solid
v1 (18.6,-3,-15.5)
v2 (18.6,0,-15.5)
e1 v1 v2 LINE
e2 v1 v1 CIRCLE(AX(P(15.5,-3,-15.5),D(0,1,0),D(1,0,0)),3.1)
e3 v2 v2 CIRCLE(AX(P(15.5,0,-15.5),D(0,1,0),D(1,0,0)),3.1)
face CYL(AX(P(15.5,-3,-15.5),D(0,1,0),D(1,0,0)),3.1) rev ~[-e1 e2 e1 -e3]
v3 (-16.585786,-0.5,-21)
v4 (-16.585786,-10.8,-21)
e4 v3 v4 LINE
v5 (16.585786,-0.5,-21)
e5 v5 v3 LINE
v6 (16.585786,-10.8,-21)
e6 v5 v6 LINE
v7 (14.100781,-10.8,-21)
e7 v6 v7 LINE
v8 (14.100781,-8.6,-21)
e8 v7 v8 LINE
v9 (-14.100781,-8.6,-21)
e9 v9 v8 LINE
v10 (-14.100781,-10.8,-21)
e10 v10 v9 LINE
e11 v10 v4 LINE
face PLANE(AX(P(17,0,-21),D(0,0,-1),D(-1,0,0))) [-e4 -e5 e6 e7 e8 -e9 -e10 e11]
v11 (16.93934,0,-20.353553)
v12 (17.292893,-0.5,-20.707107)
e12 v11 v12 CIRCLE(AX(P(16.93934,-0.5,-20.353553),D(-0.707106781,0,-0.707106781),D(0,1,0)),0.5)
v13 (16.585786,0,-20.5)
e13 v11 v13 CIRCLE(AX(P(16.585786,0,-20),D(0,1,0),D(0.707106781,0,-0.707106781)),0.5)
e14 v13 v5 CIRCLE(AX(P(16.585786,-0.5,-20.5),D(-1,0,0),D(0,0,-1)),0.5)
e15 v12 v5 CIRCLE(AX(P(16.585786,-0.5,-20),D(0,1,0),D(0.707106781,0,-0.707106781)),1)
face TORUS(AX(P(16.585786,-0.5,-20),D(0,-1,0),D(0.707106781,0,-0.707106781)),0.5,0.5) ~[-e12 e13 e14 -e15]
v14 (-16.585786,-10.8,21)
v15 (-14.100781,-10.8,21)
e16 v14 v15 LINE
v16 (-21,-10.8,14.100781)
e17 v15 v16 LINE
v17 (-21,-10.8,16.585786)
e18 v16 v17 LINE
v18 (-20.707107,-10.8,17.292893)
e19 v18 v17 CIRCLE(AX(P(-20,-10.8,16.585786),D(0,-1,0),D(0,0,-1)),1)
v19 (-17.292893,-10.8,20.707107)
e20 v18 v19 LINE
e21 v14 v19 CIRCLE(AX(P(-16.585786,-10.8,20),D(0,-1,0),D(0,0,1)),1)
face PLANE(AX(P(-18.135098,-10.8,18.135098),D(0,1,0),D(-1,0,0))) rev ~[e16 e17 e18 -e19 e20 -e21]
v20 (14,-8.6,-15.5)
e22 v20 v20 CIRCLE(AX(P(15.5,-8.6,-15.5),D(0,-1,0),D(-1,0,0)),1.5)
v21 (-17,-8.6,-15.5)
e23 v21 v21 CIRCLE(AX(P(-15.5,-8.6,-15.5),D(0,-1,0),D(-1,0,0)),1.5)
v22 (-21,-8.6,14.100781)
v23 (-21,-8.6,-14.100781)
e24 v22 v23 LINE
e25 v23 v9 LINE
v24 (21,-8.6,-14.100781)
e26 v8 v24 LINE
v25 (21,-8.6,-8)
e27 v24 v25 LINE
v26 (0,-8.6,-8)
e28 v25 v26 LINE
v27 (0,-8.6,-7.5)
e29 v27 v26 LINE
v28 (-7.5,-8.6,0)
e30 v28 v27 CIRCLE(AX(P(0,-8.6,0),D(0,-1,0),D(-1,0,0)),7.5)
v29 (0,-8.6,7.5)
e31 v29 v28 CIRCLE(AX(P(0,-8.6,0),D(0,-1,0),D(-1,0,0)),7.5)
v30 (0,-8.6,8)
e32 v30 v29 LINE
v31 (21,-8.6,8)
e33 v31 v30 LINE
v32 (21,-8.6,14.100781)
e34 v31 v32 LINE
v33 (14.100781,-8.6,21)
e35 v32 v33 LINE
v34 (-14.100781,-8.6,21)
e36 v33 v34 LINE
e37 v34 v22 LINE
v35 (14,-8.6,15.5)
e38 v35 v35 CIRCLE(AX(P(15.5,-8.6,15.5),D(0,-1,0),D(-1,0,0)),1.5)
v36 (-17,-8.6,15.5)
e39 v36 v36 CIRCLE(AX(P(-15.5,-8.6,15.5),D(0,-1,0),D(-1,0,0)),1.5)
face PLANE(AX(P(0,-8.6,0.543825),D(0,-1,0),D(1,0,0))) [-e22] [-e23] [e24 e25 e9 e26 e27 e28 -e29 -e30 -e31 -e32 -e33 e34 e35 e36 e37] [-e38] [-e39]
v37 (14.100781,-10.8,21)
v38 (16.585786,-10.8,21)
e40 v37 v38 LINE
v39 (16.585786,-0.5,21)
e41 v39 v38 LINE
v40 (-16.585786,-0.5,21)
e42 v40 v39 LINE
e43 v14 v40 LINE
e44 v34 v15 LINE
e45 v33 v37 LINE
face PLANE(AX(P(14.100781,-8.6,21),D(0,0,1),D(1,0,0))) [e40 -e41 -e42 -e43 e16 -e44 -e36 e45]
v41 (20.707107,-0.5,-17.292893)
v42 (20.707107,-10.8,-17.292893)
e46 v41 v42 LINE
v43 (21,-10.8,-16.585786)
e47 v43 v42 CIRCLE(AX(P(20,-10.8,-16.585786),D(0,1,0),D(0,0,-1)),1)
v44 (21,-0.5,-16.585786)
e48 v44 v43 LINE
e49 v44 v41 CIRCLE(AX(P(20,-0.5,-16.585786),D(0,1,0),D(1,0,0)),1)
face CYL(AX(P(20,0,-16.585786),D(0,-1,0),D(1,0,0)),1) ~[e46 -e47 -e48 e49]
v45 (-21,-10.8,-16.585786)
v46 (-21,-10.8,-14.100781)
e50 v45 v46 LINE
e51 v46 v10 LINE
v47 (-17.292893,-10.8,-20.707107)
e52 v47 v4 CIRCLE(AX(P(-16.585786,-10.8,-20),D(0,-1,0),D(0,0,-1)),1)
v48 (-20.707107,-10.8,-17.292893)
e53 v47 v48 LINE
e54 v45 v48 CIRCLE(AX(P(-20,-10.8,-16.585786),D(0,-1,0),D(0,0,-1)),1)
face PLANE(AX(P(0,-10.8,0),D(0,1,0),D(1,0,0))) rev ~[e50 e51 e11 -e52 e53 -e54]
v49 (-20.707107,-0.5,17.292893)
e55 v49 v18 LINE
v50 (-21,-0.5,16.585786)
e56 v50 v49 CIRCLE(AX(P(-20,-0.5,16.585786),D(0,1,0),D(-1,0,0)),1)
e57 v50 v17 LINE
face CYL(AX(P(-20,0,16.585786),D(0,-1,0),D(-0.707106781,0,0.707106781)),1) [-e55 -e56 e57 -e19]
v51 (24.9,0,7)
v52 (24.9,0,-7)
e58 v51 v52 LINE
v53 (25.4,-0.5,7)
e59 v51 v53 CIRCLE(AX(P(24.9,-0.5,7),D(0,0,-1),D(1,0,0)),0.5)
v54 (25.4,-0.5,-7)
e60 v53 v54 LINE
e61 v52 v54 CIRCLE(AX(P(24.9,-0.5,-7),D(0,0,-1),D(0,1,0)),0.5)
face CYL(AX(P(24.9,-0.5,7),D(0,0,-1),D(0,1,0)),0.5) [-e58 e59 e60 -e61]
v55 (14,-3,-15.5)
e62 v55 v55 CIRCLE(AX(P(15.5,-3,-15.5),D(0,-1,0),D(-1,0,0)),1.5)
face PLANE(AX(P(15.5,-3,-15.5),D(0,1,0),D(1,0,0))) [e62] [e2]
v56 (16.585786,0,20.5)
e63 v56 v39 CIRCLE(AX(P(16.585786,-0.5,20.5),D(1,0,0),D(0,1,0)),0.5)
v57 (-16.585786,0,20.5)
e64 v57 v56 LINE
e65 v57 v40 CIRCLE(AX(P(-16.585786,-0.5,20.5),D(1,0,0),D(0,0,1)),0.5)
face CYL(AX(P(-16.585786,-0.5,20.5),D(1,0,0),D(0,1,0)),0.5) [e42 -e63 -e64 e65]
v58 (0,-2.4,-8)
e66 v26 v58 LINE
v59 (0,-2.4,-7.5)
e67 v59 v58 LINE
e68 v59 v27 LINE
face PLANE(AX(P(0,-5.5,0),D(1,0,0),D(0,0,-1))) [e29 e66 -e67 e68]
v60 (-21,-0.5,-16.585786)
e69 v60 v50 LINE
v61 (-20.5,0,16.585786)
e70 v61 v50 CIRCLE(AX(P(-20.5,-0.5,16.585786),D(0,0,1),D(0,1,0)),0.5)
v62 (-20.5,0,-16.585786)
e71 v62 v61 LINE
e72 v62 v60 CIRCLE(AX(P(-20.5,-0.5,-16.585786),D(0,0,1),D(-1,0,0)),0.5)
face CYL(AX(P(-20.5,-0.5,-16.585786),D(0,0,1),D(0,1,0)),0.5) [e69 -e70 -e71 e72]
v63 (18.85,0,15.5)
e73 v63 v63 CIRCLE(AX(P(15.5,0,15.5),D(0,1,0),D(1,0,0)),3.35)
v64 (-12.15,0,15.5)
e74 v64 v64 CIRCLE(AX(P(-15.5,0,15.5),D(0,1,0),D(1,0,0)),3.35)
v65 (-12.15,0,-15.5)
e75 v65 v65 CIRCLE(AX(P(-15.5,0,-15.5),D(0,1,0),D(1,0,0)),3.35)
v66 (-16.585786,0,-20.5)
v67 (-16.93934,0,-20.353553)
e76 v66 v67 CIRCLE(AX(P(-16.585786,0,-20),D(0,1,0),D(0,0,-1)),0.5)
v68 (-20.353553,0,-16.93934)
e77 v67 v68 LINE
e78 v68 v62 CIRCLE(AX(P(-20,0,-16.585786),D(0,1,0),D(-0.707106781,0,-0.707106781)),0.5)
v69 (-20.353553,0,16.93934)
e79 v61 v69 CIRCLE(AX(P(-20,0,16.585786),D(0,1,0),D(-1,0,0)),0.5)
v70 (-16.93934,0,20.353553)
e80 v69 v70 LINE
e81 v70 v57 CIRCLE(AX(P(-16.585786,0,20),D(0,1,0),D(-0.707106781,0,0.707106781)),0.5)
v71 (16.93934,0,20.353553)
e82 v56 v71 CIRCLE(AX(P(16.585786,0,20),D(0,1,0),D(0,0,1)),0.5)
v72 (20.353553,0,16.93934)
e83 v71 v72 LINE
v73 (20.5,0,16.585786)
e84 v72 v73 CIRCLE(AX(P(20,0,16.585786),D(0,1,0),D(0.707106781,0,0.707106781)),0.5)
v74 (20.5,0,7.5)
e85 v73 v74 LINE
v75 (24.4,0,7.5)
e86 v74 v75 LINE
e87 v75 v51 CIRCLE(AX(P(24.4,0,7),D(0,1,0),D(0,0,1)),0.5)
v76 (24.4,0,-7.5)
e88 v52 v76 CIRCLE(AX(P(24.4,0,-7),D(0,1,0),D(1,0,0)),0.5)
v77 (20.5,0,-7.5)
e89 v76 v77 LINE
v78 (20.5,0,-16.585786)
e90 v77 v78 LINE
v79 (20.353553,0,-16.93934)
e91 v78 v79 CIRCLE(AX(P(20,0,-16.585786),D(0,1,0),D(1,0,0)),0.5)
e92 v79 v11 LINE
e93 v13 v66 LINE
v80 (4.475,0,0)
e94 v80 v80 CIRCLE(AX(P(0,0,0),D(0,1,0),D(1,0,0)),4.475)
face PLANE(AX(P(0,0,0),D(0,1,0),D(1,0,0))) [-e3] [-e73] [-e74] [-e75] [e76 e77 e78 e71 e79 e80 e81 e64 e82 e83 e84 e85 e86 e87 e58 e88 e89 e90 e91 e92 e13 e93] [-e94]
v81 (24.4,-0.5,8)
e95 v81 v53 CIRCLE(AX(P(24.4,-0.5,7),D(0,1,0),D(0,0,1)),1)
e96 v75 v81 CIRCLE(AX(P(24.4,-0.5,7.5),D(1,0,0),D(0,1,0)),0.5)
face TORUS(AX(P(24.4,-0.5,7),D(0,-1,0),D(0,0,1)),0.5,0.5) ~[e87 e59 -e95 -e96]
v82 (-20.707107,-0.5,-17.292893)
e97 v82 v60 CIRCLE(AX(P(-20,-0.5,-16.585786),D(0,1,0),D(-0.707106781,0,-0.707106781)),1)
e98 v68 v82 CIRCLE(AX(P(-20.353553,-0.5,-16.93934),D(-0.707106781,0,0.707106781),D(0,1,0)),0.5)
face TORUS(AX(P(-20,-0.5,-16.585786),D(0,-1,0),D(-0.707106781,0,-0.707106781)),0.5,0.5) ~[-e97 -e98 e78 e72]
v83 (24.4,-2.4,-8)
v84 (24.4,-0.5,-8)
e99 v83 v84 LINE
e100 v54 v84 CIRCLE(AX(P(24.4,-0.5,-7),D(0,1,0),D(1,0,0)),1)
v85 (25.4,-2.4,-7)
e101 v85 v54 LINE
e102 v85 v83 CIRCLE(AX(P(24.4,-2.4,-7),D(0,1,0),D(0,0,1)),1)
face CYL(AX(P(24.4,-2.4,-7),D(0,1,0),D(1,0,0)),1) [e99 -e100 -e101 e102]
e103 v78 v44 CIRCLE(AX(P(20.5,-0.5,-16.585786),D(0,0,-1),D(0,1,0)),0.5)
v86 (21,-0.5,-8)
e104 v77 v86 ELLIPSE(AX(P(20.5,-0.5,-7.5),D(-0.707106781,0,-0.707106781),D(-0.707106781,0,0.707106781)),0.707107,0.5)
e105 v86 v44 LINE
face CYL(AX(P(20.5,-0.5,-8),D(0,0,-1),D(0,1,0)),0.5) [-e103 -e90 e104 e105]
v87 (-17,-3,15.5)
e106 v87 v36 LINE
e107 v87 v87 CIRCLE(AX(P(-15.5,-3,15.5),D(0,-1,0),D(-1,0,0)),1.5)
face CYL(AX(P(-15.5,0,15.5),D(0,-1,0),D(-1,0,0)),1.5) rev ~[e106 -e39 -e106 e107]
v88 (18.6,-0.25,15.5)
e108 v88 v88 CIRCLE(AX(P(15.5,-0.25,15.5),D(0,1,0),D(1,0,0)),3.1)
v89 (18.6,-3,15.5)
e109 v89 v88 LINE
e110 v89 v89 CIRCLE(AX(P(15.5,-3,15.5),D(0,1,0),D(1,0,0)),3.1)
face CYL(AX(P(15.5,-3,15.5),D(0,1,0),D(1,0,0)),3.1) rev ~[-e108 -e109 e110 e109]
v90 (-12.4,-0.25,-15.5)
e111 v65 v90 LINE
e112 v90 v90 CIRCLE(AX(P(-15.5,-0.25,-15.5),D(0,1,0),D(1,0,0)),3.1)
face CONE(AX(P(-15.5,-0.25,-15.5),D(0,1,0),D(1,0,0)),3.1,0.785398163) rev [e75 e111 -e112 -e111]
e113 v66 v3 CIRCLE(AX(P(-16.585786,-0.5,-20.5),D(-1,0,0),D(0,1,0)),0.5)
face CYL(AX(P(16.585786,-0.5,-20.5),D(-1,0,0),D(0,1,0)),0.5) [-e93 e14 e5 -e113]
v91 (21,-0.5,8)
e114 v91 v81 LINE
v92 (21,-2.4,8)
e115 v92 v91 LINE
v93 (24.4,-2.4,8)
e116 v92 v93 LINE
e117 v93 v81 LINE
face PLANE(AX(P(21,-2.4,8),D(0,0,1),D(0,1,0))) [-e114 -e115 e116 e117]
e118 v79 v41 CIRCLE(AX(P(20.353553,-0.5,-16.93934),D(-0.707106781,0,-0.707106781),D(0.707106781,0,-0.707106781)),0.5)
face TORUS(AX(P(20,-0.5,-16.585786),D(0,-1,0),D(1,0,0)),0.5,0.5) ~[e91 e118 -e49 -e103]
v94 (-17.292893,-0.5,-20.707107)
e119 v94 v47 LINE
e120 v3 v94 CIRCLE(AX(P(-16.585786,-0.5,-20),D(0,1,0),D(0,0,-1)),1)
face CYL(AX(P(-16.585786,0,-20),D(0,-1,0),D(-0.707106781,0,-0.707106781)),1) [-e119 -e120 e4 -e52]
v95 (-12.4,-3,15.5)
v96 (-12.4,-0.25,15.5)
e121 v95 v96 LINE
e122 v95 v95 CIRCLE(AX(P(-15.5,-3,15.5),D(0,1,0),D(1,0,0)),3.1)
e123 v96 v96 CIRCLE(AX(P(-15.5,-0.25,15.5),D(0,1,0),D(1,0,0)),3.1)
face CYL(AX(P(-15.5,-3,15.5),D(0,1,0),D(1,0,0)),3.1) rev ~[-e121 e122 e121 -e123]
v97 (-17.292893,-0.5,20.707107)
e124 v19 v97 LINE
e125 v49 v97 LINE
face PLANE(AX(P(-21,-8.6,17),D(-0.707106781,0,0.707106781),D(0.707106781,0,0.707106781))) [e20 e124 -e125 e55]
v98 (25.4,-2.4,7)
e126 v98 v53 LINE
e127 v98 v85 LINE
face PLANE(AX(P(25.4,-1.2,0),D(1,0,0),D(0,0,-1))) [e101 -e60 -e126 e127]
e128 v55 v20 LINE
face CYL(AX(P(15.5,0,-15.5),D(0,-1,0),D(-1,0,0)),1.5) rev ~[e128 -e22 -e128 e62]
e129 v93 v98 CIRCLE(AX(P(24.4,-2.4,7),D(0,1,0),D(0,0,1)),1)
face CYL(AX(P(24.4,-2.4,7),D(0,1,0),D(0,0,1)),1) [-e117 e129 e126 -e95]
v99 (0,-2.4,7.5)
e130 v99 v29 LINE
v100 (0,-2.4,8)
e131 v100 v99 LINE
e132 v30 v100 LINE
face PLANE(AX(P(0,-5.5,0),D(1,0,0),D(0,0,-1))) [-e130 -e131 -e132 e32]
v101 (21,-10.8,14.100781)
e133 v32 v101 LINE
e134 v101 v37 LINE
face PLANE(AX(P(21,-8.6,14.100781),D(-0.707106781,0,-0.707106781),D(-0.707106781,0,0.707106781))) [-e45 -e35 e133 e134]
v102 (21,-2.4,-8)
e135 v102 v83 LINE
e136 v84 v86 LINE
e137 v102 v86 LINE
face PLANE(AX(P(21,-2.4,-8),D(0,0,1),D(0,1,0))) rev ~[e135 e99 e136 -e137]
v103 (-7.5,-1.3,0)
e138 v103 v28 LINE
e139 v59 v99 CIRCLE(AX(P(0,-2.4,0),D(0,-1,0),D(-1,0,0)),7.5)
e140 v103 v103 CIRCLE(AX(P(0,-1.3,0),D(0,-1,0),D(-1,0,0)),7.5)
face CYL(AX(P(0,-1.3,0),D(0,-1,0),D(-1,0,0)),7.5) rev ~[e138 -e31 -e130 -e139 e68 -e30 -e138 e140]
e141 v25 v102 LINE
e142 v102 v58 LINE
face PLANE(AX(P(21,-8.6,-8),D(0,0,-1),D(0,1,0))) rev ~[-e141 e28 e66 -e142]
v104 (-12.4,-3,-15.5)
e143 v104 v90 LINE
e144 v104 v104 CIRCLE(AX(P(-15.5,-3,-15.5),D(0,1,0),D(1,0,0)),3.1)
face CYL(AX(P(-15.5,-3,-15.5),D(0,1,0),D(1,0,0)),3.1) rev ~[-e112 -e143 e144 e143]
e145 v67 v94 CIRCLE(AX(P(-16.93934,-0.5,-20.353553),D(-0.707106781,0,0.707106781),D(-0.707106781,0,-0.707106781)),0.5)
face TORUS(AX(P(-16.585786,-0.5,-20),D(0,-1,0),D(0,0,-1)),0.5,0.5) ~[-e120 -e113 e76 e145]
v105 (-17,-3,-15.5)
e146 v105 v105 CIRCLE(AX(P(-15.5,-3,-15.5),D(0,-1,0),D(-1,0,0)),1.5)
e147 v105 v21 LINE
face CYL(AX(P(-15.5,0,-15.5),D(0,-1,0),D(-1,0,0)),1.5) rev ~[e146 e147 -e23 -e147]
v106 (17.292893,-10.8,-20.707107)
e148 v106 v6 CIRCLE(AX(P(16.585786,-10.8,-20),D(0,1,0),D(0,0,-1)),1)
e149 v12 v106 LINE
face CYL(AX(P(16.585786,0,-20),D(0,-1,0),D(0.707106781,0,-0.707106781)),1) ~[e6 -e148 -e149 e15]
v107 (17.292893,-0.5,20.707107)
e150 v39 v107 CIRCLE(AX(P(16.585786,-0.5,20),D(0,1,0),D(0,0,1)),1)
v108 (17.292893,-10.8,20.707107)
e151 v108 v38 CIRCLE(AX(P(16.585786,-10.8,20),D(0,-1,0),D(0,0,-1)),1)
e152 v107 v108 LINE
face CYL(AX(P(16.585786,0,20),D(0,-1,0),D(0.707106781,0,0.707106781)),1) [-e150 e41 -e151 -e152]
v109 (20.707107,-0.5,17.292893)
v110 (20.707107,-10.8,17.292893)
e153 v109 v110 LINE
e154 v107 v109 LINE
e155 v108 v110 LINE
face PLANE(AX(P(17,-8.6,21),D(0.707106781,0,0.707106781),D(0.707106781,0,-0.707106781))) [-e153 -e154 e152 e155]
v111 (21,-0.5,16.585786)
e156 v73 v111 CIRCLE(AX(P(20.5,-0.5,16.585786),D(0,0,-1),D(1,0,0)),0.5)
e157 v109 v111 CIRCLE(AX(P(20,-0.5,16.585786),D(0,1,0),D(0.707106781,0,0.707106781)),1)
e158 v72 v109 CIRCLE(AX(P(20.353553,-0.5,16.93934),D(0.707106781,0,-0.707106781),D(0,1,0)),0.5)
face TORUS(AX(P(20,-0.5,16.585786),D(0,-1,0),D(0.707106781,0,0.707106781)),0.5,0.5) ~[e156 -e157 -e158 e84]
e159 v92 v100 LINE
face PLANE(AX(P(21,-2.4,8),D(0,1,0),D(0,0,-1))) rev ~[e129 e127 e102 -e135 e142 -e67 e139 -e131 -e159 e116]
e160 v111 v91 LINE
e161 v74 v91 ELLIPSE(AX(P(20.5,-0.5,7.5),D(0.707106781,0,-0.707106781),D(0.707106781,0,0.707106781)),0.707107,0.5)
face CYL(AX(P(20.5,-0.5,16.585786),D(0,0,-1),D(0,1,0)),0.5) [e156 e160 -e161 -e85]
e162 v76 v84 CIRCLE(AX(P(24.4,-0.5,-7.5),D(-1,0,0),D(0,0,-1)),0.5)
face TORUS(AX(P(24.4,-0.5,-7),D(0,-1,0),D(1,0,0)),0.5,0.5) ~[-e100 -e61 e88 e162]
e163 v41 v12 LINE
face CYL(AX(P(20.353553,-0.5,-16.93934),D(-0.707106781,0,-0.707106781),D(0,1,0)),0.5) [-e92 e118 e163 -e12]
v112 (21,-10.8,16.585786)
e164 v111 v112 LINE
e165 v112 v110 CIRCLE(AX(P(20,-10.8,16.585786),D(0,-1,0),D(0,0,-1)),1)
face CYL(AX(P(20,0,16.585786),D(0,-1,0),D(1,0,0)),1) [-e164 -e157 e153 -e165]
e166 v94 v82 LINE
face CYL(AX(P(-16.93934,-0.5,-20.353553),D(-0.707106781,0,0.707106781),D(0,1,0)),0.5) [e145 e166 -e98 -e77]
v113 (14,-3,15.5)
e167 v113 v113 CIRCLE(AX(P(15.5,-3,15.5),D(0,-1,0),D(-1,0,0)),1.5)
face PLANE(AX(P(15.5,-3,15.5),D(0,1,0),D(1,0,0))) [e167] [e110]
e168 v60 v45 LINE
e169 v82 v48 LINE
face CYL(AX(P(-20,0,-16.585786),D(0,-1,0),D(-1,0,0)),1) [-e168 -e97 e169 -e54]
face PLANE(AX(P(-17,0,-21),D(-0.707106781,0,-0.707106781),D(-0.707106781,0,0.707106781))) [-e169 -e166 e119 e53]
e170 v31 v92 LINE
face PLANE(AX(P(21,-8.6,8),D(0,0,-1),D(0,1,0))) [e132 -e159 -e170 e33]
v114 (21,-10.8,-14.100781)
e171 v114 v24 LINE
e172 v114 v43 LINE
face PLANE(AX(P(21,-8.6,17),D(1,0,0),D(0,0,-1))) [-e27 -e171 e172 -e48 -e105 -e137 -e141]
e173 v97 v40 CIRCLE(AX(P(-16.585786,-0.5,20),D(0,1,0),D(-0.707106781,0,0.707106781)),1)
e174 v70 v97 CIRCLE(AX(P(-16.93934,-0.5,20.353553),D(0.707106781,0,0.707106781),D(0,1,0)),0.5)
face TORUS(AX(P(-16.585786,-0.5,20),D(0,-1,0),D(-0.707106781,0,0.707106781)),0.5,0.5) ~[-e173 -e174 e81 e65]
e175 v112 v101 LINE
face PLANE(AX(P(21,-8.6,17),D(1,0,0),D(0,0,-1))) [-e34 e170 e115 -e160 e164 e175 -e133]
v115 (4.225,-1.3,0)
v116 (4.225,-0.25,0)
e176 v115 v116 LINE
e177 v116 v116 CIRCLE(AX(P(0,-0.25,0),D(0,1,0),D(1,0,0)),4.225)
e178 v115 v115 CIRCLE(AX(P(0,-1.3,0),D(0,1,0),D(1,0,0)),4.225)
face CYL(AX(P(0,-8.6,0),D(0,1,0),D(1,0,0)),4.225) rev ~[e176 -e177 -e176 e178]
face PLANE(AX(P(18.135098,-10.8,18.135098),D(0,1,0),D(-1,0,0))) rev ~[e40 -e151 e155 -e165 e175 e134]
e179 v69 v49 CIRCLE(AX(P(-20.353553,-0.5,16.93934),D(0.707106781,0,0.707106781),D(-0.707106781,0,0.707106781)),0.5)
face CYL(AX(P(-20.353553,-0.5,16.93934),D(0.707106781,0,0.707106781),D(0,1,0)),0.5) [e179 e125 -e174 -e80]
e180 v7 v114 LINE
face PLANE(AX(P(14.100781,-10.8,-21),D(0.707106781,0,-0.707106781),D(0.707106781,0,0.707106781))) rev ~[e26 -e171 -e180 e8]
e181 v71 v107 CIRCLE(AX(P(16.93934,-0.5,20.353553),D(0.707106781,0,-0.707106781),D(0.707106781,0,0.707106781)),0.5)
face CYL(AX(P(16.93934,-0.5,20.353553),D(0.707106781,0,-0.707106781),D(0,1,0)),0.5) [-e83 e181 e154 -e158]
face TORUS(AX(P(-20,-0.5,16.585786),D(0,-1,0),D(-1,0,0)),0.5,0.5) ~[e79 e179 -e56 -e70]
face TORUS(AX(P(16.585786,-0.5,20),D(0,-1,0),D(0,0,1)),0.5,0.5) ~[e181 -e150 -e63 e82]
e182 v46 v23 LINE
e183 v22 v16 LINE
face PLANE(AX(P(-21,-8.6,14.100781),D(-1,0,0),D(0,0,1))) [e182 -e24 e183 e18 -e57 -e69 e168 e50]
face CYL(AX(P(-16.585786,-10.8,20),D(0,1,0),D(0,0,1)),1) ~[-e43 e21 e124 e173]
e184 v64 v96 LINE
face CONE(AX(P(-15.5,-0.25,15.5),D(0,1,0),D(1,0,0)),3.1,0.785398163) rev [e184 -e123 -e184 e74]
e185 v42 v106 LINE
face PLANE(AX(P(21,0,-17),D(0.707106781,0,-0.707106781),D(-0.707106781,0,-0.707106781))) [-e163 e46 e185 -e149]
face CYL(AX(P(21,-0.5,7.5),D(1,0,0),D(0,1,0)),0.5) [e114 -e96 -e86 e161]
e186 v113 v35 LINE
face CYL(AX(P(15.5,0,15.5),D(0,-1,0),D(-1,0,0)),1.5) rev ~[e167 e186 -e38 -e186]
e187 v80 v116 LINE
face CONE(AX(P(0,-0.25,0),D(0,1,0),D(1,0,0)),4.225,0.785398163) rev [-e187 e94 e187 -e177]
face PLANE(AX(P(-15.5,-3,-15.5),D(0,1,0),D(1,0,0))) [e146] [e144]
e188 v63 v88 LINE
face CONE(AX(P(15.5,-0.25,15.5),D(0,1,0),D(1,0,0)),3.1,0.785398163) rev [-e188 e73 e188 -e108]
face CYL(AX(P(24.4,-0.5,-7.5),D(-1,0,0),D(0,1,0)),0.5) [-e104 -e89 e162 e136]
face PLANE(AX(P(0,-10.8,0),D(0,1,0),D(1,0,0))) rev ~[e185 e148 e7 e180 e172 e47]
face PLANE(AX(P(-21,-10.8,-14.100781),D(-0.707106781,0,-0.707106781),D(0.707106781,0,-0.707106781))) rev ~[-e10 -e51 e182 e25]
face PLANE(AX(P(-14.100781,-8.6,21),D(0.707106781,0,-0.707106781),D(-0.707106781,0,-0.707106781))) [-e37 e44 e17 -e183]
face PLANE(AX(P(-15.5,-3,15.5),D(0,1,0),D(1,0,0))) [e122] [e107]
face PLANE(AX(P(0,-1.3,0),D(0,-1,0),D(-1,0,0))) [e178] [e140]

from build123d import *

# Parameters (mm, degrees)
SALIENTE_EXTRUIR1_DEPTH                              = 10.8
CORTAR_EXTRUIR1_DEPTH                                = 2.2
SALIENTE_EXTRUIR2_DEPTH                              = 2.2
SALIENTE_EXTRUIR3_DEPTH                              = 2.2
CROQUIS5_W                                           = 16
CROQUIS5_H                                           = 2.4
SALIENTE_EXTRUIR4_DEPTH                              = 4.4
CROQUIS6_W                                           = 16
CROQUIS6_H                                           = 6.2
CORTAR_EXTRUIR2_DEPTH                                = 21
REFRENTADO_PARA_PERNO_CON_CABEZA_HEXAGON_D           = 8.45
REFRENTADO_PARA_PERNO_CON_CABEZA_HEXAGON_CBORE_D     = 15
REFRENTADO_PARA_PERNO_CON_CABEZA_HEXAGON_CBORE_DEPTH = 7.3
REFRENTADO_PARA_TORNILLO_CON_CABEZA_HEXA_D           = 3
REFRENTADO_PARA_TORNILLO_CON_CABEZA_HEXA_DEPTH       = 10.8
REFRENTADO_PARA_TORNILLO_CON_CABEZA_HEXA_CBORE_D     = 6.2
REFRENTADO_PARA_TORNILLO_CON_CABEZA_HEXA_CBORE_DEPTH = 3
REDONDEO1_R                                          = 1
CHAFL_N1_SIZE                                        = 0.25
REDONDEO2_R                                          = 0.5


with BuildPart() as part:
    # Croquis1 → Saliente-Extruir1 (new body)
    with BuildSketch(Plane(origin=(0, 0, 0), x_dir=(1, 0, 0), z_dir=(0, 1, 0))):
        Polygon((21, -17), (21, 17), (17, 21), (-17, 21), (-21, 17), (-21, -17), (-17, -21), (17, -21), align=None)
    extrude(amount=-SALIENTE_EXTRUIR1_DEPTH)

    # Croquis2 → Cortar-Extruir1 (cut)
    with BuildSketch(Plane.XZ.offset(10.8)):
        Polygon((-21, 17), (-21, -14.100780618), (-14.100780618, -21), (14.100780618, -21), (21, -14.100780618), (21, 17), (17, 21), (-17, 21), align=None)
    extrude(amount=-CORTAR_EXTRUIR1_DEPTH, mode=Mode.SUBTRACT)

    # Croquis3 → Saliente-Extruir2 (add)
    with BuildSketch(Plane.XZ.offset(8.6)):
        Polygon((-21, 17), (-17, 21), (-14.100780618, 21), (-21, 14.100780618), align=None)
    extrude(amount=SALIENTE_EXTRUIR2_DEPTH)

    # Croquis4 → Saliente-Extruir3 (add)
    with BuildSketch(Plane.XZ.offset(8.6)):
        Polygon((21, 17), (21, 14.100780618), (14.100780618, 21), (17, 21), align=None)
    extrude(amount=SALIENTE_EXTRUIR3_DEPTH)

    # Croquis5 → Saliente-Extruir4 (add)
    with BuildSketch(Plane(origin=(21, 0, 0), x_dir=(0, 0, -1), z_dir=(1, 0, 0))):
        with Locations((0, -1.2)):
            Rectangle(CROQUIS5_W, CROQUIS5_H)
    extrude(amount=SALIENTE_EXTRUIR4_DEPTH)

    # Croquis6 → Cortar-Extruir2 (cut)
    with BuildSketch(Plane(origin=(21, 0, 0), x_dir=(0, 0, -1), z_dir=(1, 0, 0))):
        with Locations((0, -5.5)):
            Rectangle(CROQUIS6_W, CROQUIS6_H)
    extrude(amount=-CORTAR_EXTRUIR2_DEPTH, mode=Mode.SUBTRACT)

    # Refrentado para perno con cabeza hexagonal de M81 (through all)
    with Locations(Plane(origin=(0, -8.6, 0), x_dir=(-1, 0, 0), z_dir=(0, -1, 0))):
        with Locations((0, 0)):
            CounterBoreHole(REFRENTADO_PARA_PERNO_CON_CABEZA_HEXAGON_D / 2, REFRENTADO_PARA_PERNO_CON_CABEZA_HEXAGON_CBORE_D / 2, REFRENTADO_PARA_PERNO_CON_CABEZA_HEXAGON_CBORE_DEPTH)

    # Refrentado para tornillo con cabeza hexagonal de M2.51
    with Locations(Plane(origin=(0, 0, 0), x_dir=(1, 0, 0), z_dir=(0, 1, 0))):
        with Locations((15.5, -15.5), (-15.5, -15.5), (-15.5, 15.5), (15.5, 15.5)):
            CounterBoreHole(REFRENTADO_PARA_TORNILLO_CON_CABEZA_HEXA_D / 2, REFRENTADO_PARA_TORNILLO_CON_CABEZA_HEXA_CBORE_D / 2, REFRENTADO_PARA_TORNILLO_CON_CABEZA_HEXA_CBORE_DEPTH, depth=REFRENTADO_PARA_TORNILLO_CON_CABEZA_HEXA_DEPTH)

    # Redondeo1
    redondeo1_edges = [part.edges().sort_by_distance(p)[0] for p in [
        (-21, -5.4, -17),
        (-17, -5.4, -21),
        (17, -5.4, -21),
        (21, -5.4, -17),
        (21, -5.4, 17),
        (-21, -5.4, 17),
        (-17, -5.4, 21),
        (17, -5.4, 21),
        (25.4, -1.2, -8),
        (25.4, -1.2, 8),
    ]]
    fillet(redondeo1_edges, radius=REDONDEO1_R)

    # Chaflán1
    chafl_n1_edges = [part.edges().sort_by_distance(p)[0] for p in [
        (-4.225, 0, 0),
        (-18.6, 0, -15.5),
        (-18.6, 0, 15.5),
        (12.4, 0, 15.5),
    ]]
    chamfer(chafl_n1_edges, length=CHAFL_N1_SIZE)

    # Redondeo2
    redondeo2_edges = [part.edges().sort_by_distance(p)[0] for p in [
        (25.4, 0, 0),
        (19, 0, 19),
        (21, 0, 12.292893219),
        (22.7, 0, 8),
        (22.7, 0, -8),
        (19, 0, -19),
        (0, 0, -21),
        (-19, 0, -19),
        (-21, 0, 0),
        (-19, 0, 19),
        (0, 0, 21),
        (20.923879533, 0, 16.96846987),
        (20.923879533, 0, -16.96846987),
        (-20.923879533, 0, -16.96846987),
        (16.96846987, 0, 20.923879533),
        (16.96846987, 0, -20.923879533),
        (-16.96846987, 0, 20.923879533),
        (-16.96846987, 0, -20.923879533),
        (25.107106781, 0, 7.707106781),
        (-20.923879533, 0, 16.96846987),
        (25.107106781, 0, -7.707106781),
        (21, 0, -12.292893219),
    ]]
    fillet(redondeo2_edges, radius=REDONDEO2_R)


solid = part.part
